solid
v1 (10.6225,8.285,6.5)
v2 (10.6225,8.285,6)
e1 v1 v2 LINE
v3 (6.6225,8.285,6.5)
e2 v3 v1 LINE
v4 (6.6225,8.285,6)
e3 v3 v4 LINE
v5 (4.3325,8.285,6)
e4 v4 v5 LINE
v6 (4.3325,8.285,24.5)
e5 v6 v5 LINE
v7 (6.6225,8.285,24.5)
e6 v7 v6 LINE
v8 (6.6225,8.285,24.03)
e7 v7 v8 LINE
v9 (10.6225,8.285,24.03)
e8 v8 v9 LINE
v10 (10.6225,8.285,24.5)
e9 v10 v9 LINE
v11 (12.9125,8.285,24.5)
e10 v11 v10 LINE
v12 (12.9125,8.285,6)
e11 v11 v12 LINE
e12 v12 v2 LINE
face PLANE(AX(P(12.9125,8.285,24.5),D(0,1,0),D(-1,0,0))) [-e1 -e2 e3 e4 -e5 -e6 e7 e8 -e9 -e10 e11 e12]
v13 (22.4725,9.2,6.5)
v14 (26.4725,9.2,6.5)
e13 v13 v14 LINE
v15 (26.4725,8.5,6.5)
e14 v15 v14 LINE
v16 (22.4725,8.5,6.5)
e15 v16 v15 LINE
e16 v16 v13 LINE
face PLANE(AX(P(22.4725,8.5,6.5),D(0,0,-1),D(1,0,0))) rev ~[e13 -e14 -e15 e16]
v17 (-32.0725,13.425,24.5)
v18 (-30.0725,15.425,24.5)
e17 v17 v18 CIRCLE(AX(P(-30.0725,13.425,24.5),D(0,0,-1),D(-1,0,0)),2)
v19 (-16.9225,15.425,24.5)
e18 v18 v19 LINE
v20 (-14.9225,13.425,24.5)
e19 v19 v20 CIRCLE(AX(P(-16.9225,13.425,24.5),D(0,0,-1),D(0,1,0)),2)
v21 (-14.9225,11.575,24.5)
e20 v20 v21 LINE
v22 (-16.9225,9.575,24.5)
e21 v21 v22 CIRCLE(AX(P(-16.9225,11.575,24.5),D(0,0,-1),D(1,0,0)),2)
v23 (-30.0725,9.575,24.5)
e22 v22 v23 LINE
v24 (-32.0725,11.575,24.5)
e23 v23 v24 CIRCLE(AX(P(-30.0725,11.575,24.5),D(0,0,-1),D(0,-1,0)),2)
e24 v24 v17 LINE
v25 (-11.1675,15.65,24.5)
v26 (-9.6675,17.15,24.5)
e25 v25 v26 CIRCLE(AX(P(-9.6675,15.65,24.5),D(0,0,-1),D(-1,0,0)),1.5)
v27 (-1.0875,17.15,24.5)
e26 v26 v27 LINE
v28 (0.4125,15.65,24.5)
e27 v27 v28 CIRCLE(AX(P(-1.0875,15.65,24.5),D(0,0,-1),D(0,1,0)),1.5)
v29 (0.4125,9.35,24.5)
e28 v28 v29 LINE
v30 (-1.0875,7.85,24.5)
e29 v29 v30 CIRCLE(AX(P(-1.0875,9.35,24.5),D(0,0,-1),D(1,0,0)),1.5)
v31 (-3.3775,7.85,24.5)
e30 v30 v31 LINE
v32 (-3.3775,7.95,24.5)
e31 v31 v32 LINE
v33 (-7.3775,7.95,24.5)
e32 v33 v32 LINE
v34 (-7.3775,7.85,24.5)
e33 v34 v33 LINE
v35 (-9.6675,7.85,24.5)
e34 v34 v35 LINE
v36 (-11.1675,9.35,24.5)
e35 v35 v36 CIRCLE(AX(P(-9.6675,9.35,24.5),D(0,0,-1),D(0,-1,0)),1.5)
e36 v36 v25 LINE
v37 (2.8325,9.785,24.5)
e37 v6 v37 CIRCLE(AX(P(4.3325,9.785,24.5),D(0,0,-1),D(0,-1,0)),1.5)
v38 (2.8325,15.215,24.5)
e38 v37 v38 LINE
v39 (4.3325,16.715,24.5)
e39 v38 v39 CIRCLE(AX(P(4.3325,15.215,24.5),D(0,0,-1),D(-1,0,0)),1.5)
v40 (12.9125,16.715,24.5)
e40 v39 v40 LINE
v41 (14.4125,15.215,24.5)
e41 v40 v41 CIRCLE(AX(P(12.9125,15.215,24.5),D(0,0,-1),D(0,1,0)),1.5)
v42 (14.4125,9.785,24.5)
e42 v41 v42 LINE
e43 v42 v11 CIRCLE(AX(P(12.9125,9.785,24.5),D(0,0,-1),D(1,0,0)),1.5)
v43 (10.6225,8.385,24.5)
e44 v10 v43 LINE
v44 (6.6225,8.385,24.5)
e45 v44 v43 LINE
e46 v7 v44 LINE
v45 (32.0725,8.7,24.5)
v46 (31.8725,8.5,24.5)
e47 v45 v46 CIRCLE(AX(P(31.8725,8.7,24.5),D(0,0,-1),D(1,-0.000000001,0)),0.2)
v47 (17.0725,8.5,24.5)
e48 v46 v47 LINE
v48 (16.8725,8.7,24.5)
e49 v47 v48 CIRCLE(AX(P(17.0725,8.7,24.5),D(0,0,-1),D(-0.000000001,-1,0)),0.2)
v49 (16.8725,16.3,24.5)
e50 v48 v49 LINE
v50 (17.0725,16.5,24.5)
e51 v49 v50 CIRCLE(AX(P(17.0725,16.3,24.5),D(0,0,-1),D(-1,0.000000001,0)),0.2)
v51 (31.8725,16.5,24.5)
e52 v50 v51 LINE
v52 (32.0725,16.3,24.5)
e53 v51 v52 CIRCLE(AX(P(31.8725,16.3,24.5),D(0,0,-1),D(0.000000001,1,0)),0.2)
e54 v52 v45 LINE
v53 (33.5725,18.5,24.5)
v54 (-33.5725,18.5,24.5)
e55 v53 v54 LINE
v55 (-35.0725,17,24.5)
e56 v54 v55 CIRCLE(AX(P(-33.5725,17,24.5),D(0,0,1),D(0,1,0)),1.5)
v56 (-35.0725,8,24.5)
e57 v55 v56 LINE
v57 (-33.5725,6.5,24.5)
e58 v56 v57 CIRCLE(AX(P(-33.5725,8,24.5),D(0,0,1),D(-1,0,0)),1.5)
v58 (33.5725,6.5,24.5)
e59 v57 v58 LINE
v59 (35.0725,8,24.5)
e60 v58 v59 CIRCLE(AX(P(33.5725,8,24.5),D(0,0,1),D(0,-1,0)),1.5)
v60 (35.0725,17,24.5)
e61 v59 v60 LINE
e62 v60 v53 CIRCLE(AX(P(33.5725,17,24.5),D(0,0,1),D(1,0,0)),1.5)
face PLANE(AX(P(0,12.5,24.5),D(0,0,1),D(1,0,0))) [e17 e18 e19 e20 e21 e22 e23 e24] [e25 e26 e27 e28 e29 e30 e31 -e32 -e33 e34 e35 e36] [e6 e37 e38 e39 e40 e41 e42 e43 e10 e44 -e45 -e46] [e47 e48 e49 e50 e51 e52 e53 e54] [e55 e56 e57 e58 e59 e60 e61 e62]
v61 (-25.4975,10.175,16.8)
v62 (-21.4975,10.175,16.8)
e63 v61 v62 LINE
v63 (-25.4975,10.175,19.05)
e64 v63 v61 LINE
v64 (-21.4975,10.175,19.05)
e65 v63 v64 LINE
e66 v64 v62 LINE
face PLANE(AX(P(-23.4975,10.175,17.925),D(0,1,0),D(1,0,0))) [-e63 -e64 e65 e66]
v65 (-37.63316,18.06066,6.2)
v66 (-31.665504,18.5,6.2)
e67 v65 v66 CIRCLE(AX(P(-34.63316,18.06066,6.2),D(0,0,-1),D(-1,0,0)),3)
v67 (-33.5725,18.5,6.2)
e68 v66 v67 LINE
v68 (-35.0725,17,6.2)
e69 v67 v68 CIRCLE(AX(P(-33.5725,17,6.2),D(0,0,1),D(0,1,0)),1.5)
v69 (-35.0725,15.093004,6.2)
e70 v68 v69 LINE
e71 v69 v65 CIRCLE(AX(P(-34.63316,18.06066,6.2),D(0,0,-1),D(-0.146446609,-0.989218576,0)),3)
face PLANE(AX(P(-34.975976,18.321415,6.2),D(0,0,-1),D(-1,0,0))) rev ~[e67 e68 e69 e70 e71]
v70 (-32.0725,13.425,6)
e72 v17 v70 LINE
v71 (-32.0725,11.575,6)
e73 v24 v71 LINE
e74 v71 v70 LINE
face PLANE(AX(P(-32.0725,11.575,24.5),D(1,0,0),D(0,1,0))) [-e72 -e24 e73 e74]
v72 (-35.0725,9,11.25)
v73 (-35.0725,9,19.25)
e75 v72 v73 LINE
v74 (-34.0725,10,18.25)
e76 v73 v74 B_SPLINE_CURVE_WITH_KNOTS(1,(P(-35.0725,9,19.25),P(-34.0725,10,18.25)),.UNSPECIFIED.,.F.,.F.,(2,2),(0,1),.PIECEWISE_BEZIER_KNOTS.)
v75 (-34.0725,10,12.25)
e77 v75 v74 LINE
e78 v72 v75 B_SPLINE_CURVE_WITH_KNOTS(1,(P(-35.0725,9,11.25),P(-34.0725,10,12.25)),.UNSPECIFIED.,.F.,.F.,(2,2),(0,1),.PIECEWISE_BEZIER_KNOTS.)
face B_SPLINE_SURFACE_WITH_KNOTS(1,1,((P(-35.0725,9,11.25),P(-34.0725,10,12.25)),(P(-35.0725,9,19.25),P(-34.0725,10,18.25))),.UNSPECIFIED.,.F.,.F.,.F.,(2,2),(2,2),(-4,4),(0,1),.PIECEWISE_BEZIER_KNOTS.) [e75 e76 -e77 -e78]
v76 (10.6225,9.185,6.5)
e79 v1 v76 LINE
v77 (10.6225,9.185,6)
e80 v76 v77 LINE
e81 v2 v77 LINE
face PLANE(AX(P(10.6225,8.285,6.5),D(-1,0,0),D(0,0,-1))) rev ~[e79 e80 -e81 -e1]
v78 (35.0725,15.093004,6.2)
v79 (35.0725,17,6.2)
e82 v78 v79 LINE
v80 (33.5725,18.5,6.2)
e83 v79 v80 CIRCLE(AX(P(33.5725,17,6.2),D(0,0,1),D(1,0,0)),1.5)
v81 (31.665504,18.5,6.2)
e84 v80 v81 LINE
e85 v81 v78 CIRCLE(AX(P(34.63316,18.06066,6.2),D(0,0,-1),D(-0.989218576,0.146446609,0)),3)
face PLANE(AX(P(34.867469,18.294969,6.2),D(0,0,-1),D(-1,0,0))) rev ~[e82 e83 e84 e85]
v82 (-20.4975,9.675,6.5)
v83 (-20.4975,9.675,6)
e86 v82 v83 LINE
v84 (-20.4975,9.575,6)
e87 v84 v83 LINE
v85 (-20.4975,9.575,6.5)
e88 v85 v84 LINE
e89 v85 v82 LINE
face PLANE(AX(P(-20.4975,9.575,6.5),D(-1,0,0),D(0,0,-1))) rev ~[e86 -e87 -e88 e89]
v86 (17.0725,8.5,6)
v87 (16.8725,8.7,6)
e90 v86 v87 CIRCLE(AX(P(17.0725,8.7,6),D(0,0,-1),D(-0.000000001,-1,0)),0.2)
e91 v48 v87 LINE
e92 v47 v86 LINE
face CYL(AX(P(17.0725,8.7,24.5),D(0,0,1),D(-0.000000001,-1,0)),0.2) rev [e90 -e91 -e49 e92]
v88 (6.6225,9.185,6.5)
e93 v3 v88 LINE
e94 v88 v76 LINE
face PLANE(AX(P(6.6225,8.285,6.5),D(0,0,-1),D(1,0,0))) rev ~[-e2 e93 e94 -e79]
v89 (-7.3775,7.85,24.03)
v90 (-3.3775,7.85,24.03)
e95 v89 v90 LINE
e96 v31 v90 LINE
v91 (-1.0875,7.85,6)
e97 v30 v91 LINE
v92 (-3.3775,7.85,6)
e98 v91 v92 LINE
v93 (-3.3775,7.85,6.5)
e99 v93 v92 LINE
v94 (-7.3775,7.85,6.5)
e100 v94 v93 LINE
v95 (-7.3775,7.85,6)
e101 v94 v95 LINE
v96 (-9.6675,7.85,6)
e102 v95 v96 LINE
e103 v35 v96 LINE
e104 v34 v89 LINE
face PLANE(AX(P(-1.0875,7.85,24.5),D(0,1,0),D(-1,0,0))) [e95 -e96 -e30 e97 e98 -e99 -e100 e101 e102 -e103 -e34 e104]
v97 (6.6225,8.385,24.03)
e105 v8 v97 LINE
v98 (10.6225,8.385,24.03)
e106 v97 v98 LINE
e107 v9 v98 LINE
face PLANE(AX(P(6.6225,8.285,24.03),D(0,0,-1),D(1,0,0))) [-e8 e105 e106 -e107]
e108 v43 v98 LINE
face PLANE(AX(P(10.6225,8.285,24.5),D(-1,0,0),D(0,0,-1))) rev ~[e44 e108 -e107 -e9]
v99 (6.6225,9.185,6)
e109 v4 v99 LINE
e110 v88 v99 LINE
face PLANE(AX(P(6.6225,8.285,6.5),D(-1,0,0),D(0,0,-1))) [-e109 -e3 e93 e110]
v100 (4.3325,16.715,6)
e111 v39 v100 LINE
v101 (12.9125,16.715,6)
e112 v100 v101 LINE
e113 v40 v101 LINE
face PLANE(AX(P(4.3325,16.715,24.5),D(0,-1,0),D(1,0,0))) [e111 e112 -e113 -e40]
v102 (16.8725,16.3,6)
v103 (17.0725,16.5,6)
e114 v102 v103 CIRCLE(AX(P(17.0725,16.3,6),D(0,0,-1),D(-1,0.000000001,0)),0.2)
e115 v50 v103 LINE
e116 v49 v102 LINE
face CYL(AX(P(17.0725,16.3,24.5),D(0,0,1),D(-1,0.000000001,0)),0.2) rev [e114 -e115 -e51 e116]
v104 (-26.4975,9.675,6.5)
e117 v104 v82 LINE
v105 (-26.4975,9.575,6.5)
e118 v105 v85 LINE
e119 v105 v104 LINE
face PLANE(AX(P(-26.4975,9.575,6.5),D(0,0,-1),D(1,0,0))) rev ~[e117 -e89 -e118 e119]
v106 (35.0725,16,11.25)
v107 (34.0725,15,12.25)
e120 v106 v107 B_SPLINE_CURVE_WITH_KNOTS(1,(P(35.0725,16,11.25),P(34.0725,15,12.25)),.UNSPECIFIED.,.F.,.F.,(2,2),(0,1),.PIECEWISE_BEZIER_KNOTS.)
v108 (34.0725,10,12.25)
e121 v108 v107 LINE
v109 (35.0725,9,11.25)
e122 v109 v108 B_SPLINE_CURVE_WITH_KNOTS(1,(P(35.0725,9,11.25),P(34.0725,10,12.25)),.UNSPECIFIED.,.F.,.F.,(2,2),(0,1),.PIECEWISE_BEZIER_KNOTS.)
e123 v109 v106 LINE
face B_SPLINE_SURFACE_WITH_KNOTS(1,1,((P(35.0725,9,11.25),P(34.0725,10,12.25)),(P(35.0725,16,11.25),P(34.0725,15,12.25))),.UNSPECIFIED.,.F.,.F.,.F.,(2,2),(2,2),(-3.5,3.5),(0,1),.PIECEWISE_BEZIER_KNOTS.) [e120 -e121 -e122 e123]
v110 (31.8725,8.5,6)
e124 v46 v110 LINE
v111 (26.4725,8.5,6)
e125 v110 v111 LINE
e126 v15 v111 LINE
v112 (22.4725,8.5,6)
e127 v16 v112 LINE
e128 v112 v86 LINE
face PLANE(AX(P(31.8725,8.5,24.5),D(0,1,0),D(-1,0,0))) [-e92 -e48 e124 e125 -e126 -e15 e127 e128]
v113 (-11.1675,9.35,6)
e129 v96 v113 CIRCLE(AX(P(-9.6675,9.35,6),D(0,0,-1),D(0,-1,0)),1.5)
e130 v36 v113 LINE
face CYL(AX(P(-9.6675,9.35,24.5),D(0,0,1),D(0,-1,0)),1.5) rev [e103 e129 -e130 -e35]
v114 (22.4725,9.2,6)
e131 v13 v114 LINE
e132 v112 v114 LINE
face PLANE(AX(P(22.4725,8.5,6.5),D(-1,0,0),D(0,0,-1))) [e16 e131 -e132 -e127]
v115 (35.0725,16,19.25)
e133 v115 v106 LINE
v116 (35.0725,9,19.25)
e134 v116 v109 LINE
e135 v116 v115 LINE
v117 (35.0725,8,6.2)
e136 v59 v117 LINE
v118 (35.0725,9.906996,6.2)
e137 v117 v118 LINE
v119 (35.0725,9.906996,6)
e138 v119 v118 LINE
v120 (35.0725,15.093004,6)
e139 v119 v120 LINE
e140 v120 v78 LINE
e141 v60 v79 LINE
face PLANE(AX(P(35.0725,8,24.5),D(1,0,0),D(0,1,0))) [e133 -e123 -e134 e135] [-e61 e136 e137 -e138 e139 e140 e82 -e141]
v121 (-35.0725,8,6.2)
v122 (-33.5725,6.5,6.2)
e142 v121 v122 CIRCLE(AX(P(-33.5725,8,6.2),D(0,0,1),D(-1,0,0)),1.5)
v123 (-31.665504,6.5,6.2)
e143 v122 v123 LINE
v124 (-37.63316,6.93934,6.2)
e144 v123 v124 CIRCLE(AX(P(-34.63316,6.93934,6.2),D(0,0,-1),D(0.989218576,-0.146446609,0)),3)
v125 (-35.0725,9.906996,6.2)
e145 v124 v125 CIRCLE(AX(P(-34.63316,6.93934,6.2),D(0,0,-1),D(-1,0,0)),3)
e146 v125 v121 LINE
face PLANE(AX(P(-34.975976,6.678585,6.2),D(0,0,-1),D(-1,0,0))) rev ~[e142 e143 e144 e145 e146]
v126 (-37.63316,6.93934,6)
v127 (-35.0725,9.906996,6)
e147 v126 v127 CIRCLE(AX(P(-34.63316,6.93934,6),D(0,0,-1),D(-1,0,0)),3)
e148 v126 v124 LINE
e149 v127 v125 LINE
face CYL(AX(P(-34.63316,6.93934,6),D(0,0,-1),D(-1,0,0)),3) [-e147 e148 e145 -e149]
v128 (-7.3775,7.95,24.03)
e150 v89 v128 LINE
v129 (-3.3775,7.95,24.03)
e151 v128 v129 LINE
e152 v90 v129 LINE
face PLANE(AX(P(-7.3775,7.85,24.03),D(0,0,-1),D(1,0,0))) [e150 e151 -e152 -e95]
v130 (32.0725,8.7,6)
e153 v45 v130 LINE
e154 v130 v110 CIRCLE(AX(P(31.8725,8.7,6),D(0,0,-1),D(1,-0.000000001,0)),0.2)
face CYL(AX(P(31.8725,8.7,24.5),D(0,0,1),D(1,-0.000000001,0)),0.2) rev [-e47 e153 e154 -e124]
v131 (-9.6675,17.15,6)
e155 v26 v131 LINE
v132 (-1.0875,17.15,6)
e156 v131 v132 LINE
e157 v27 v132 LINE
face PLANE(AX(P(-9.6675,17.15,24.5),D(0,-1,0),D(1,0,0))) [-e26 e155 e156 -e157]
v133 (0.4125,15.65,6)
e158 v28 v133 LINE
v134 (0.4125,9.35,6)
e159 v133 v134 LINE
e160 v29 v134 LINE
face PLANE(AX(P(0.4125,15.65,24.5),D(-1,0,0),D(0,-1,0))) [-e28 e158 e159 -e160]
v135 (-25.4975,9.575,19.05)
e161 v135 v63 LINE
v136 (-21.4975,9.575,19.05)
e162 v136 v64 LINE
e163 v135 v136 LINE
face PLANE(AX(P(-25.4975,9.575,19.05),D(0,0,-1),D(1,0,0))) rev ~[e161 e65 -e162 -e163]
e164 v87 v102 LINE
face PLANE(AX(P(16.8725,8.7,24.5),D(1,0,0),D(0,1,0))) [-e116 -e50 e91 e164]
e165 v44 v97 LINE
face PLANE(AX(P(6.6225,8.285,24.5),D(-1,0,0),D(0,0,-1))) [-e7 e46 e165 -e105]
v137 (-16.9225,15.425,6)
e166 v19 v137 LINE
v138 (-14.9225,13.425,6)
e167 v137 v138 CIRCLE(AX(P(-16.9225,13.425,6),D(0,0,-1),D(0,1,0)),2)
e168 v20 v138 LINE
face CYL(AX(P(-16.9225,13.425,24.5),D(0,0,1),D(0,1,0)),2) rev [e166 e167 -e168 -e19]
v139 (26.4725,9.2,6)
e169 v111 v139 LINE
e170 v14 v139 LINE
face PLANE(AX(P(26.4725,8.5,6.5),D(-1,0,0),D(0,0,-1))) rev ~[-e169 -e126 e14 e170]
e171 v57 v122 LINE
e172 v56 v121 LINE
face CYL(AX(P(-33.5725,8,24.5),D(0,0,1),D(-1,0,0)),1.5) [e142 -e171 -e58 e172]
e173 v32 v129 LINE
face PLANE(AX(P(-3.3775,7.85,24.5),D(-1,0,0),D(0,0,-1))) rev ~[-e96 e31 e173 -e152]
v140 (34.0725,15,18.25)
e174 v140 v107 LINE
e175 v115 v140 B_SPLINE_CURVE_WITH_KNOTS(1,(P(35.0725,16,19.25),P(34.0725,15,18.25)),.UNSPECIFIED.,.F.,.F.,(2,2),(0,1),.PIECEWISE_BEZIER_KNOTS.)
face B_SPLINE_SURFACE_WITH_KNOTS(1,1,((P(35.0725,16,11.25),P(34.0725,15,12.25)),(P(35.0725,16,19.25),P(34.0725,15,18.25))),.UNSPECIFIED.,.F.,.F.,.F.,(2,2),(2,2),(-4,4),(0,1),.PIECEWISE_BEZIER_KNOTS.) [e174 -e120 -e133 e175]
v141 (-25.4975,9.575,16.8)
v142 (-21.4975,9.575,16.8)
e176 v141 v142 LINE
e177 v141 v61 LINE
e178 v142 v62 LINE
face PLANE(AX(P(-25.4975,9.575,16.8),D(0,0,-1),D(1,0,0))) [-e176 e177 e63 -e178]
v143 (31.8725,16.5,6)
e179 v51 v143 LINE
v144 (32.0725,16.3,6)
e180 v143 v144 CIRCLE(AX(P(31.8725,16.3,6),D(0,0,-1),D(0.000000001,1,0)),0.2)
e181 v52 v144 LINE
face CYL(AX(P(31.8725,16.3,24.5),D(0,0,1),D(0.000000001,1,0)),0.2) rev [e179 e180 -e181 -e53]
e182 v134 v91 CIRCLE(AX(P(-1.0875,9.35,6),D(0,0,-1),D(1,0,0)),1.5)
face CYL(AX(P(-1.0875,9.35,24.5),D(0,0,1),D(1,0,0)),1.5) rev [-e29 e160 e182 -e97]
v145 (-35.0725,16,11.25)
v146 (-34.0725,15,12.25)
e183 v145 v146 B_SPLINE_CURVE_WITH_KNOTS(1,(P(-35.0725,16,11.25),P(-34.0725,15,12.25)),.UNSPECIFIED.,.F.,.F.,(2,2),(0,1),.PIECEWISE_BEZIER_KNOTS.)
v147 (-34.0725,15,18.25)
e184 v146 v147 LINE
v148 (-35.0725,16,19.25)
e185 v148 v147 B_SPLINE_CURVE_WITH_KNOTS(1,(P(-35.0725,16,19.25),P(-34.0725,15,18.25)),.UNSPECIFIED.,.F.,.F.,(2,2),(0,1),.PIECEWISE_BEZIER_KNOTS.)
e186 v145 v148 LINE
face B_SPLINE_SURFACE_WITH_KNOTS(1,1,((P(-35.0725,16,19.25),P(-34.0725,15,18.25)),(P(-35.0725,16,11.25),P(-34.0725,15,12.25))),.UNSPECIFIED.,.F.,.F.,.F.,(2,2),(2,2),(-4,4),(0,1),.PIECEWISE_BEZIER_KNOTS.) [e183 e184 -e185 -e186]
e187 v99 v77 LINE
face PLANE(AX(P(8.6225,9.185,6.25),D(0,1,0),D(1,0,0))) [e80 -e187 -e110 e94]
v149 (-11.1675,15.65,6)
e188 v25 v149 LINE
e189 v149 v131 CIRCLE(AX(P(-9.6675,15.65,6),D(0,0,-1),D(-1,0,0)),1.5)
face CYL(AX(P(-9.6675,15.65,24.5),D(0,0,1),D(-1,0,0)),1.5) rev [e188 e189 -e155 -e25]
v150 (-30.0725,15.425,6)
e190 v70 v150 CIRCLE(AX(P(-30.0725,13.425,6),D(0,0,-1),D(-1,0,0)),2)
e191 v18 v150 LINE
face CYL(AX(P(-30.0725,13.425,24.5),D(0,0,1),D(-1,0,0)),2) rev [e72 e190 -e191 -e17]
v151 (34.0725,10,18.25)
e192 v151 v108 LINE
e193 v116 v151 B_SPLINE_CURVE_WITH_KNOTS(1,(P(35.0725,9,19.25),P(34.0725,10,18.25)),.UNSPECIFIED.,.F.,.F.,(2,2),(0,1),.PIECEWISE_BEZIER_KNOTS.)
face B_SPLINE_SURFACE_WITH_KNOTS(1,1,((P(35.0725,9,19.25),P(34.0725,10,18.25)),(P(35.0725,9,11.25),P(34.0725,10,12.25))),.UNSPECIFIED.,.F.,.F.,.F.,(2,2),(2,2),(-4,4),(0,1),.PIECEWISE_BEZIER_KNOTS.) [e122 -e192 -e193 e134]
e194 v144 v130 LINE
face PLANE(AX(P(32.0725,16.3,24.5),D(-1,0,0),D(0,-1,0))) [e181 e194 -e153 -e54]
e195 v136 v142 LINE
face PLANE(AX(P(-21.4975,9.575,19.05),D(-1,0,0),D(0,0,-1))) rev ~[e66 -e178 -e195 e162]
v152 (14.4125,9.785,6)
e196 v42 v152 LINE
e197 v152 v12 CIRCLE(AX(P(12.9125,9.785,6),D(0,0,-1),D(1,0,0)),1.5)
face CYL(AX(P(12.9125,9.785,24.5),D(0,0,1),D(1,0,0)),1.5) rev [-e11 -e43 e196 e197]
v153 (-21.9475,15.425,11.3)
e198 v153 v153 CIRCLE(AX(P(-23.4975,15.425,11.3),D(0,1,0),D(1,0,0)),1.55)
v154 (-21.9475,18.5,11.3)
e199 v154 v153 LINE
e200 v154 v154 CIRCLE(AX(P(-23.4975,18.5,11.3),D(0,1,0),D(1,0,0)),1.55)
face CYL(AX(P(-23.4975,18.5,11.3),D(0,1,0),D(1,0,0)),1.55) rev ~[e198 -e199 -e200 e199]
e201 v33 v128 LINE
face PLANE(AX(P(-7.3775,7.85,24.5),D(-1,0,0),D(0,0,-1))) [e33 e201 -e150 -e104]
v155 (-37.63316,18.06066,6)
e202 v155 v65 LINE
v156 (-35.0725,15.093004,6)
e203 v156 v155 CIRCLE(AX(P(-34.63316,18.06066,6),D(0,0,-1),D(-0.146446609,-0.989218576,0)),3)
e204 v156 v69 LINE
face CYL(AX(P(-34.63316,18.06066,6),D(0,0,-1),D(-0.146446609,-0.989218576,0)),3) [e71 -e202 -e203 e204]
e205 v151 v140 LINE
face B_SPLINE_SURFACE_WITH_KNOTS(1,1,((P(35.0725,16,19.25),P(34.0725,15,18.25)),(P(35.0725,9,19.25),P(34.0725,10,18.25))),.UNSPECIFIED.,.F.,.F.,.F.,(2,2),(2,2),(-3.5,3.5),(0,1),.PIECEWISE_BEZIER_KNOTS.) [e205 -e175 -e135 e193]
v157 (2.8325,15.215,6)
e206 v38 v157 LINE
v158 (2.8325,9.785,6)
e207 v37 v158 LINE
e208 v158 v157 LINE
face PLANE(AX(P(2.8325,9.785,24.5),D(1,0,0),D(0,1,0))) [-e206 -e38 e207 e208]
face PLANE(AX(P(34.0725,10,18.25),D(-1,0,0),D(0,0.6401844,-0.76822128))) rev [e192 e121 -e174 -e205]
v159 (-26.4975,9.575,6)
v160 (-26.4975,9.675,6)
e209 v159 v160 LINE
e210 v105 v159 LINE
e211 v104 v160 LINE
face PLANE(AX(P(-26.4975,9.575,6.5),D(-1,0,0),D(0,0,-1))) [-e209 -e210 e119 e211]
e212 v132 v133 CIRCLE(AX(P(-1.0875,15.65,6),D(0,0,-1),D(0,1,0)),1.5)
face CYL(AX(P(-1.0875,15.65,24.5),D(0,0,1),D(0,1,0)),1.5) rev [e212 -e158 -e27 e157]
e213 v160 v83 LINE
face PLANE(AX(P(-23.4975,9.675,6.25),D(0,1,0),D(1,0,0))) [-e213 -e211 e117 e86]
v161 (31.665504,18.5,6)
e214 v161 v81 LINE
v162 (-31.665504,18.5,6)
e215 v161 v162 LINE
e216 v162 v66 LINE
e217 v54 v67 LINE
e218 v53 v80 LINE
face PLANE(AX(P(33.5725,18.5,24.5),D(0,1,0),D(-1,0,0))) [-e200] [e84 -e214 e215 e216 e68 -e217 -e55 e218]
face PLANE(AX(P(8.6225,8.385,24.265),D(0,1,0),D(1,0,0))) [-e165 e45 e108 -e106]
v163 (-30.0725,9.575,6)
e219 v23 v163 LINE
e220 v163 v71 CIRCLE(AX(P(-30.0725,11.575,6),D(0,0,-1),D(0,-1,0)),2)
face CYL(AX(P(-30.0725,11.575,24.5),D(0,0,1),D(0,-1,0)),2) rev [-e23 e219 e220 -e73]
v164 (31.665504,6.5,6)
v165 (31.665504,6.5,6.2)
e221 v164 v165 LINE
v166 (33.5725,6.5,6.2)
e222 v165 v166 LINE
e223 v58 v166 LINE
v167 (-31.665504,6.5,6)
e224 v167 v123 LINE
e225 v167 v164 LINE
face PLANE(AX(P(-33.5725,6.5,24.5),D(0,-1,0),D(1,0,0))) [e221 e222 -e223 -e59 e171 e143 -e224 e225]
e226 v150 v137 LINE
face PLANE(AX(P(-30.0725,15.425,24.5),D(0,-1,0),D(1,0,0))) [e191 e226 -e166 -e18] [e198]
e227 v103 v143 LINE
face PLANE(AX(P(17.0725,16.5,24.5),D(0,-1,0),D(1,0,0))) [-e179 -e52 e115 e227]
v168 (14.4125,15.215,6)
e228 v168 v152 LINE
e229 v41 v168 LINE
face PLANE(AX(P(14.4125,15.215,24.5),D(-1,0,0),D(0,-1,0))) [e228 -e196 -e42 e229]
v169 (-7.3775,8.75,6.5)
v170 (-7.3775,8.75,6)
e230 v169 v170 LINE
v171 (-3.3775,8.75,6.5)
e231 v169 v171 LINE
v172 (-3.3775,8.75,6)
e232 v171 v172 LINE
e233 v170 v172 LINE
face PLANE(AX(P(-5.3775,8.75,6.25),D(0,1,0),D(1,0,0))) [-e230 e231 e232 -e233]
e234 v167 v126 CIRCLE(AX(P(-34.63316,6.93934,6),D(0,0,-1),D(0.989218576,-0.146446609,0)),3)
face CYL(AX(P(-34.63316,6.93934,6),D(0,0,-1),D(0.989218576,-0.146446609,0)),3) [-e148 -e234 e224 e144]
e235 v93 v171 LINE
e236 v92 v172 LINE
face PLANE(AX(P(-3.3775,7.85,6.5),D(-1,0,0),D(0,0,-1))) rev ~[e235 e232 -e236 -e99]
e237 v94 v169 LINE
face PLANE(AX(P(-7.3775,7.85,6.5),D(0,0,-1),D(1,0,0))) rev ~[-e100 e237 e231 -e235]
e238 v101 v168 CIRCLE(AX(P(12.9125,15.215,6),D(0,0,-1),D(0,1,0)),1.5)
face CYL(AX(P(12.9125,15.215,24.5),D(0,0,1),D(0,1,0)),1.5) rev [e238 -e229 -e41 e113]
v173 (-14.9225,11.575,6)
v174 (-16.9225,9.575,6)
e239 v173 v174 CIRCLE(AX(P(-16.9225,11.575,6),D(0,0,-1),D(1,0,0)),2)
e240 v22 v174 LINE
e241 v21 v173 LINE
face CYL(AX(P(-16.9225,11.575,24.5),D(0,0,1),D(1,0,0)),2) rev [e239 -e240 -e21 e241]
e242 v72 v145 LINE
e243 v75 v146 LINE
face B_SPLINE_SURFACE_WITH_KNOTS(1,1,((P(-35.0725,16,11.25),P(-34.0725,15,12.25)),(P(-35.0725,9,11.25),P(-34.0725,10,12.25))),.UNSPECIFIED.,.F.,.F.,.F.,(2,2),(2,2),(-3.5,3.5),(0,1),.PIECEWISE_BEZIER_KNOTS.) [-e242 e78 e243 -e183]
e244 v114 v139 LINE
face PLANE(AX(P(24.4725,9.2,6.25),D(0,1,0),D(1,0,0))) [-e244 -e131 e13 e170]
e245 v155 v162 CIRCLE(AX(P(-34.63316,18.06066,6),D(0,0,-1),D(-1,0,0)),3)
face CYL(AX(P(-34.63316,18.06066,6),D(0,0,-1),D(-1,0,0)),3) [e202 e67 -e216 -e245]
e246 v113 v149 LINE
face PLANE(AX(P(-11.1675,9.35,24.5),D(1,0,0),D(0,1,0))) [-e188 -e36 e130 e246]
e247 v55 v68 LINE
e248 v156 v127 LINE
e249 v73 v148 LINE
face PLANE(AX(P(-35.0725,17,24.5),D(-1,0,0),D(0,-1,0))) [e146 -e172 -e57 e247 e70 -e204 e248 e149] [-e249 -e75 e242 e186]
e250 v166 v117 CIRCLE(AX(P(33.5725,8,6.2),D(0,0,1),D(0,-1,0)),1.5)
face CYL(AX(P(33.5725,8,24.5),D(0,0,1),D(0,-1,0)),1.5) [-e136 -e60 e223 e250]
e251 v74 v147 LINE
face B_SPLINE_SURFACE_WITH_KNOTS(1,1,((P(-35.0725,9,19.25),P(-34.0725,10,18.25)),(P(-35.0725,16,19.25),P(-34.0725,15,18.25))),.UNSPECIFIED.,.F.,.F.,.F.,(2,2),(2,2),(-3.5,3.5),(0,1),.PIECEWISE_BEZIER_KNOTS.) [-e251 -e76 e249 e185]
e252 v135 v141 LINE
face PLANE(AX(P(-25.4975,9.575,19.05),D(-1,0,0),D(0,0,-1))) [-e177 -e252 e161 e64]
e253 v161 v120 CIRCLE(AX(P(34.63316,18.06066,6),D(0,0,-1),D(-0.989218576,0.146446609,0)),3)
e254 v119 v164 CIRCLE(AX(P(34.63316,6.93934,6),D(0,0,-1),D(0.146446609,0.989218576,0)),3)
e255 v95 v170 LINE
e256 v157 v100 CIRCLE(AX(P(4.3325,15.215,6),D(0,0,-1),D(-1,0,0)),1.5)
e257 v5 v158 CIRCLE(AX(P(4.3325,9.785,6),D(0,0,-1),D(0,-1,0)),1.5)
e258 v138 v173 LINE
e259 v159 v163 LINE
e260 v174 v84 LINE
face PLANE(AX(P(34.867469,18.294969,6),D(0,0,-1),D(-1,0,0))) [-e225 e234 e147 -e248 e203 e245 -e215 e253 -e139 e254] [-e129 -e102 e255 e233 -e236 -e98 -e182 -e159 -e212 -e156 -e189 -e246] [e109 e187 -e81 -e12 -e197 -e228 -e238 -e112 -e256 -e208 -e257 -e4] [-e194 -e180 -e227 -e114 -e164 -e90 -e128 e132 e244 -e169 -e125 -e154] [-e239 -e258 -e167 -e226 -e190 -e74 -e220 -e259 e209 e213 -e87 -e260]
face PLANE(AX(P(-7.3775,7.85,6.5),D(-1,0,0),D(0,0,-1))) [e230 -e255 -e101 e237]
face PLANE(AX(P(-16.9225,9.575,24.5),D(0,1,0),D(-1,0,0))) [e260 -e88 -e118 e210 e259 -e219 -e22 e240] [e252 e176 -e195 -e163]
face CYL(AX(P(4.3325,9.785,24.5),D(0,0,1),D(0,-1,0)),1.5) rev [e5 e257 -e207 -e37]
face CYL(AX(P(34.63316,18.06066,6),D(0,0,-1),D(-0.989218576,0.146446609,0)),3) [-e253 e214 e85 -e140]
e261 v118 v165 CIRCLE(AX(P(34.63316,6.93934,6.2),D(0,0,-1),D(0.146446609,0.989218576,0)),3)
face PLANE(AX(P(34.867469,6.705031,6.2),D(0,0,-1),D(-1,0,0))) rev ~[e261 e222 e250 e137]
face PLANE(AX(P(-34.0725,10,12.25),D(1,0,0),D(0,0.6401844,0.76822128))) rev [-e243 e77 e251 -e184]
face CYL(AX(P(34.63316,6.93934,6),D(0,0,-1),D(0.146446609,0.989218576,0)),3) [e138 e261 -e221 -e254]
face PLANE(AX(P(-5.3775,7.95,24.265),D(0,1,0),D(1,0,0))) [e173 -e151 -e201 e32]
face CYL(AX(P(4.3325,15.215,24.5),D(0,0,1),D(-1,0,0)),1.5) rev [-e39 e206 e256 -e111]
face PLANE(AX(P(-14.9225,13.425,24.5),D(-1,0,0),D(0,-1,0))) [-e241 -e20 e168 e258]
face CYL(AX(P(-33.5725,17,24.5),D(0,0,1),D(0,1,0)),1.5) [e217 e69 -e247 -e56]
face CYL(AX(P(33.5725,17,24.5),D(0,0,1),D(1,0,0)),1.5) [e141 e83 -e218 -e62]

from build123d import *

# Parameters (mm, degrees)
F2_DEPTH  = 18.5
F3_R      = 1.55
F4_DEPTH  = 3.075
F5_W      = 6
F5_H      = 0.5
F6_DEPTH  = 0.1
F5_W_2    = 4
F5_H_2    = 2.25
F7_DEPTH  = 0.6
F8_W      = 4
F8_H      = 0.5
F9_DEPTH  = 0.9
F8_H_2    = 0.47
F10_DEPTH = 0.1
F11_W     = 4
F11_H     = 0.5
F12_DEPTH = 0.9
F11_H_2   = 0.47
F13_DEPTH = 0.1
F14_W     = 4
F14_H     = 0.5
F15_DEPTH = 0.7
F16_W     = 8
F16_H     = 7
F17_DEPTH = 1
F17_TAPER = 45
F18_W     = 8
F18_H     = 7
F19_DEPTH = 1
F19_TAPER = 45
F22_DEPTH = 0.2
F23_ANGLE = 90


with BuildPart() as f2:
    # F1 (on Front) → F2 (new body)
    with BuildSketch(Plane.XZ):
        with BuildLine():
            Line((-33.5725, -6), (33.5725, -6))
            ThreePointArc((33.5725, -6), (34.6331601718, -5.5606601718), (35.0725, -4.5))
            Line((35.0725, -4.5), (35.0725, 4.5))
            ThreePointArc((35.0725, 4.5), (34.6331601718, 5.5606601718), (33.5725, 6))
            Line((33.5725, 6), (-33.5725, 6))
            ThreePointArc((-33.5725, 6), (-34.6331601718, 5.5606601718), (-35.0725, 4.5))
            Line((-35.0725, 4.5), (-35.0725, -4.5))
            ThreePointArc((-35.0725, -4.5), (-34.6331601718, -5.5606601718), (-33.5725, -6))
        make_face()
        with BuildLine():
            ThreePointArc((-14.9225, -0.925), (-15.5082864376, -2.3392135624), (-16.9225, -2.925))
            Line((-16.9225, -2.925), (-30.0725, -2.925))
            ThreePointArc((-30.0725, -2.925), (-31.4867135624, -2.3392135624), (-32.0725, -0.925))
            Line((-32.0725, -0.925), (-32.0725, 0.925))
            ThreePointArc((-32.0725, 0.925), (-31.4867135624, 2.3392135624), (-30.0725, 2.925))
            Line((-30.0725, 2.925), (-16.9225, 2.925))
            ThreePointArc((-16.9225, 2.925), (-15.5082864376, 2.3392135624), (-14.9225, 0.925))
            Line((-14.9225, 0.925), (-14.9225, -0.925))
        make_face(mode=Mode.SUBTRACT)
        with BuildLine():
            Line((-9.6675, 4.65), (-1.0875, 4.65))
            ThreePointArc((-1.0875, 4.65), (-0.0268398282, 4.2106601718), (0.4125, 3.15))
            Line((0.4125, 3.15), (0.4125, -3.15))
            ThreePointArc((0.4125, -3.15), (-0.0268398282, -4.2106601718), (-1.0875, -4.65))
            Line((-1.0875, -4.65), (-9.6675, -4.65))
            ThreePointArc((-9.6675, -4.65), (-10.7281601718, -4.2106601718), (-11.1675, -3.15))
            Line((-11.1675, -3.15), (-11.1675, 3.15))
            ThreePointArc((-11.1675, 3.15), (-10.7281601718, 4.2106601718), (-9.6675, 4.65))
        make_face(mode=Mode.SUBTRACT)
        with BuildLine():
            Line((4.3325, 4.215), (12.9125, 4.215))
            ThreePointArc((12.9125, 4.215), (13.9731601718, 3.7756601718), (14.4125, 2.715))
            Line((14.4125, 2.715), (14.4125, -2.715))
            ThreePointArc((14.4125, -2.715), (13.9731601718, -3.7756601718), (12.9125, -4.215))
            Line((12.9125, -4.215), (4.3325, -4.215))
            ThreePointArc((4.3325, -4.215), (3.2718398282, -3.7756601718), (2.8325, -2.715))
            Line((2.8325, -2.715), (2.8325, 2.715))
            ThreePointArc((2.8325, 2.715), (3.2718398282, 3.7756601718), (4.3325, 4.215))
        make_face(mode=Mode.SUBTRACT)
        with BuildLine():
            ThreePointArc((32.0725, -3.8), (32.0139213562, -3.9414213562), (31.8725, -4))
            Line((31.8725, -4), (17.0725, -4))
            ThreePointArc((17.0725, -4), (16.9310786438, -3.9414213562), (16.8725, -3.8))
            Line((16.8725, -3.8), (16.8725, 3.8))
            ThreePointArc((16.8725, 3.8), (16.9310786438, 3.9414213562), (17.0725, 4))
            Line((17.0725, 4), (31.8725, 4))
            ThreePointArc((31.8725, 4), (32.0139213562, 3.9414213562), (32.0725, 3.8))
            Line((32.0725, 3.8), (32.0725, -3.8))
        make_face(mode=Mode.SUBTRACT)
    extrude(amount=-F2_DEPTH)

    # F3 (on face) → F4 (cut, through all)
    with BuildSketch(Plane.XY.offset(6)):
        with Locations((-23.4975, 13.2)):
            Circle(F3_R)
    extrude(amount=-F4_DEPTH, mode=Mode.SUBTRACT)

    # F5 (on face) → F6 (join)
    with BuildSketch(Plane.XY.offset(-2.925)):
        with Locations((-23.4975, 18.25)):
            Rectangle(F5_W, F5_H)
    extrude(amount=F6_DEPTH)

    # F5 (on face) → F7 (join)
    with BuildSketch(Plane.XY.offset(-2.925)):
        with Locations((-23.4975, 6.575)):
            Rectangle(F5_W_2, F5_H_2)
    extrude(amount=F7_DEPTH)

    # F8 (on face) → F9 (join)
    with BuildSketch(Plane.XY.offset(-4.65)):
        with Locations((-5.3775, 18.25)):
            Rectangle(F8_W, F8_H)
    extrude(amount=F9_DEPTH)

    # F8 (on face) → F10 (join)
    with BuildSketch(Plane.XY.offset(-4.65)):
        with Locations((-5.3775, 0.235)):
            Rectangle(F8_W, F8_H_2)
    extrude(amount=F10_DEPTH)

    # F11 (on face) → F12 (join)
    with BuildSketch(Plane.XY.offset(-4.215)):
        with Locations((8.6225, 18.25)):
            Rectangle(F11_W, F11_H)
    extrude(amount=F12_DEPTH)

    # F11 (on face) → F13 (join)
    with BuildSketch(Plane.XY.offset(-4.215)):
        with Locations((8.6225, 0.235)):
            Rectangle(F11_W, F11_H_2)
    extrude(amount=F13_DEPTH)

    # F14 (on face) → F15 (join)
    with BuildSketch(Plane.XY.offset(-4)):
        with Locations((24.4725, 18.25)):
            Rectangle(F14_W, F14_H)
    extrude(amount=F15_DEPTH)

    # F16 (on face) → F17 (cut)
    with BuildSketch(Plane.YZ.offset(35.0725)):
        with Locations((9.25, 0)):
            Rectangle(F16_W, F16_H)
    extrude(amount=-F17_DEPTH, taper=F17_TAPER, mode=Mode.SUBTRACT)

    # F18 (on face) → F19 (cut)
    with BuildSketch(Plane(origin=(-35.0725, 0, 0), x_dir=(0, -1, 0), z_dir=(-1, 0, 0))):
        with Locations((-9.25, 0)):
            Rectangle(F18_W, F18_H)
    extrude(amount=-F19_DEPTH, taper=F19_TAPER, mode=Mode.SUBTRACT)

    # F21 (on face) → F22 (join)
    with BuildSketch(Plane(origin=(0, 18.5, 0), x_dir=(-1, 0, 0), z_dir=(0, 1, 0))):
        with BuildLine():
            Line((-33.5725, 6), (-31.6655044446, 6))
            ThreePointArc((-31.6655044446, 6), (-36.7544805153, 7.6819805153), (-35.0725, 2.5930044446))
            Line((-35.0725, 2.5930044446), (-35.0725, 4.5))
            ThreePointArc((-35.0725, 4.5), (-34.6331601718, 5.5606601718), (-33.5725, 6))
        make_face()
        with BuildLine():
            Line((-35.0725, -4.5), (-35.0725, -2.5930044446))
            ThreePointArc((-35.0725, -2.5930044446), (-36.7544805153, -7.6819805153), (-31.6655044446, -6))
            Line((-31.6655044446, -6), (-33.5725, -6))
            ThreePointArc((-33.5725, -6), (-34.6331601718, -5.5606601718), (-35.0725, -4.5))
        make_face()
        with BuildLine():
            ThreePointArc((37.6331601718, 5.5606601718), (34.8534245792, 8.5525631767), (31.6655044446, 6))
            Line((31.6655044446, 6), (33.5725, 6))
            ThreePointArc((33.5725, 6), (34.6331601718, 5.5606601718), (35.0725, 4.5))
            Line((35.0725, 4.5), (35.0725, 2.5930044446))
            ThreePointArc((35.0725, 2.5930044446), (36.9045055313, 3.6008157245), (37.6331601718, 5.5606601718))
        make_face()
        with BuildLine():
            ThreePointArc((37.6331601718, -5.5606601718), (36.9045055313, -3.6008157245), (35.0725, -2.5930044446))
            Line((35.0725, -2.5930044446), (35.0725, -4.5))
            ThreePointArc((35.0725, -4.5), (34.6331601718, -5.5606601718), (33.5725, -6))
            Line((33.5725, -6), (31.6655044446, -6))
            ThreePointArc((31.6655044446, -6), (34.8534245792, -8.5525631767), (37.6331601718, -5.5606601718))
        make_face()
    extrude(amount=-F22_DEPTH)


with BuildPart() as f2_1:
    # F23: moved
    add(f2.part.rotate(Axis((0, 18.5, 6), (-1, 0, 0)), F23_ANGLE))


solid = f2_1.part
